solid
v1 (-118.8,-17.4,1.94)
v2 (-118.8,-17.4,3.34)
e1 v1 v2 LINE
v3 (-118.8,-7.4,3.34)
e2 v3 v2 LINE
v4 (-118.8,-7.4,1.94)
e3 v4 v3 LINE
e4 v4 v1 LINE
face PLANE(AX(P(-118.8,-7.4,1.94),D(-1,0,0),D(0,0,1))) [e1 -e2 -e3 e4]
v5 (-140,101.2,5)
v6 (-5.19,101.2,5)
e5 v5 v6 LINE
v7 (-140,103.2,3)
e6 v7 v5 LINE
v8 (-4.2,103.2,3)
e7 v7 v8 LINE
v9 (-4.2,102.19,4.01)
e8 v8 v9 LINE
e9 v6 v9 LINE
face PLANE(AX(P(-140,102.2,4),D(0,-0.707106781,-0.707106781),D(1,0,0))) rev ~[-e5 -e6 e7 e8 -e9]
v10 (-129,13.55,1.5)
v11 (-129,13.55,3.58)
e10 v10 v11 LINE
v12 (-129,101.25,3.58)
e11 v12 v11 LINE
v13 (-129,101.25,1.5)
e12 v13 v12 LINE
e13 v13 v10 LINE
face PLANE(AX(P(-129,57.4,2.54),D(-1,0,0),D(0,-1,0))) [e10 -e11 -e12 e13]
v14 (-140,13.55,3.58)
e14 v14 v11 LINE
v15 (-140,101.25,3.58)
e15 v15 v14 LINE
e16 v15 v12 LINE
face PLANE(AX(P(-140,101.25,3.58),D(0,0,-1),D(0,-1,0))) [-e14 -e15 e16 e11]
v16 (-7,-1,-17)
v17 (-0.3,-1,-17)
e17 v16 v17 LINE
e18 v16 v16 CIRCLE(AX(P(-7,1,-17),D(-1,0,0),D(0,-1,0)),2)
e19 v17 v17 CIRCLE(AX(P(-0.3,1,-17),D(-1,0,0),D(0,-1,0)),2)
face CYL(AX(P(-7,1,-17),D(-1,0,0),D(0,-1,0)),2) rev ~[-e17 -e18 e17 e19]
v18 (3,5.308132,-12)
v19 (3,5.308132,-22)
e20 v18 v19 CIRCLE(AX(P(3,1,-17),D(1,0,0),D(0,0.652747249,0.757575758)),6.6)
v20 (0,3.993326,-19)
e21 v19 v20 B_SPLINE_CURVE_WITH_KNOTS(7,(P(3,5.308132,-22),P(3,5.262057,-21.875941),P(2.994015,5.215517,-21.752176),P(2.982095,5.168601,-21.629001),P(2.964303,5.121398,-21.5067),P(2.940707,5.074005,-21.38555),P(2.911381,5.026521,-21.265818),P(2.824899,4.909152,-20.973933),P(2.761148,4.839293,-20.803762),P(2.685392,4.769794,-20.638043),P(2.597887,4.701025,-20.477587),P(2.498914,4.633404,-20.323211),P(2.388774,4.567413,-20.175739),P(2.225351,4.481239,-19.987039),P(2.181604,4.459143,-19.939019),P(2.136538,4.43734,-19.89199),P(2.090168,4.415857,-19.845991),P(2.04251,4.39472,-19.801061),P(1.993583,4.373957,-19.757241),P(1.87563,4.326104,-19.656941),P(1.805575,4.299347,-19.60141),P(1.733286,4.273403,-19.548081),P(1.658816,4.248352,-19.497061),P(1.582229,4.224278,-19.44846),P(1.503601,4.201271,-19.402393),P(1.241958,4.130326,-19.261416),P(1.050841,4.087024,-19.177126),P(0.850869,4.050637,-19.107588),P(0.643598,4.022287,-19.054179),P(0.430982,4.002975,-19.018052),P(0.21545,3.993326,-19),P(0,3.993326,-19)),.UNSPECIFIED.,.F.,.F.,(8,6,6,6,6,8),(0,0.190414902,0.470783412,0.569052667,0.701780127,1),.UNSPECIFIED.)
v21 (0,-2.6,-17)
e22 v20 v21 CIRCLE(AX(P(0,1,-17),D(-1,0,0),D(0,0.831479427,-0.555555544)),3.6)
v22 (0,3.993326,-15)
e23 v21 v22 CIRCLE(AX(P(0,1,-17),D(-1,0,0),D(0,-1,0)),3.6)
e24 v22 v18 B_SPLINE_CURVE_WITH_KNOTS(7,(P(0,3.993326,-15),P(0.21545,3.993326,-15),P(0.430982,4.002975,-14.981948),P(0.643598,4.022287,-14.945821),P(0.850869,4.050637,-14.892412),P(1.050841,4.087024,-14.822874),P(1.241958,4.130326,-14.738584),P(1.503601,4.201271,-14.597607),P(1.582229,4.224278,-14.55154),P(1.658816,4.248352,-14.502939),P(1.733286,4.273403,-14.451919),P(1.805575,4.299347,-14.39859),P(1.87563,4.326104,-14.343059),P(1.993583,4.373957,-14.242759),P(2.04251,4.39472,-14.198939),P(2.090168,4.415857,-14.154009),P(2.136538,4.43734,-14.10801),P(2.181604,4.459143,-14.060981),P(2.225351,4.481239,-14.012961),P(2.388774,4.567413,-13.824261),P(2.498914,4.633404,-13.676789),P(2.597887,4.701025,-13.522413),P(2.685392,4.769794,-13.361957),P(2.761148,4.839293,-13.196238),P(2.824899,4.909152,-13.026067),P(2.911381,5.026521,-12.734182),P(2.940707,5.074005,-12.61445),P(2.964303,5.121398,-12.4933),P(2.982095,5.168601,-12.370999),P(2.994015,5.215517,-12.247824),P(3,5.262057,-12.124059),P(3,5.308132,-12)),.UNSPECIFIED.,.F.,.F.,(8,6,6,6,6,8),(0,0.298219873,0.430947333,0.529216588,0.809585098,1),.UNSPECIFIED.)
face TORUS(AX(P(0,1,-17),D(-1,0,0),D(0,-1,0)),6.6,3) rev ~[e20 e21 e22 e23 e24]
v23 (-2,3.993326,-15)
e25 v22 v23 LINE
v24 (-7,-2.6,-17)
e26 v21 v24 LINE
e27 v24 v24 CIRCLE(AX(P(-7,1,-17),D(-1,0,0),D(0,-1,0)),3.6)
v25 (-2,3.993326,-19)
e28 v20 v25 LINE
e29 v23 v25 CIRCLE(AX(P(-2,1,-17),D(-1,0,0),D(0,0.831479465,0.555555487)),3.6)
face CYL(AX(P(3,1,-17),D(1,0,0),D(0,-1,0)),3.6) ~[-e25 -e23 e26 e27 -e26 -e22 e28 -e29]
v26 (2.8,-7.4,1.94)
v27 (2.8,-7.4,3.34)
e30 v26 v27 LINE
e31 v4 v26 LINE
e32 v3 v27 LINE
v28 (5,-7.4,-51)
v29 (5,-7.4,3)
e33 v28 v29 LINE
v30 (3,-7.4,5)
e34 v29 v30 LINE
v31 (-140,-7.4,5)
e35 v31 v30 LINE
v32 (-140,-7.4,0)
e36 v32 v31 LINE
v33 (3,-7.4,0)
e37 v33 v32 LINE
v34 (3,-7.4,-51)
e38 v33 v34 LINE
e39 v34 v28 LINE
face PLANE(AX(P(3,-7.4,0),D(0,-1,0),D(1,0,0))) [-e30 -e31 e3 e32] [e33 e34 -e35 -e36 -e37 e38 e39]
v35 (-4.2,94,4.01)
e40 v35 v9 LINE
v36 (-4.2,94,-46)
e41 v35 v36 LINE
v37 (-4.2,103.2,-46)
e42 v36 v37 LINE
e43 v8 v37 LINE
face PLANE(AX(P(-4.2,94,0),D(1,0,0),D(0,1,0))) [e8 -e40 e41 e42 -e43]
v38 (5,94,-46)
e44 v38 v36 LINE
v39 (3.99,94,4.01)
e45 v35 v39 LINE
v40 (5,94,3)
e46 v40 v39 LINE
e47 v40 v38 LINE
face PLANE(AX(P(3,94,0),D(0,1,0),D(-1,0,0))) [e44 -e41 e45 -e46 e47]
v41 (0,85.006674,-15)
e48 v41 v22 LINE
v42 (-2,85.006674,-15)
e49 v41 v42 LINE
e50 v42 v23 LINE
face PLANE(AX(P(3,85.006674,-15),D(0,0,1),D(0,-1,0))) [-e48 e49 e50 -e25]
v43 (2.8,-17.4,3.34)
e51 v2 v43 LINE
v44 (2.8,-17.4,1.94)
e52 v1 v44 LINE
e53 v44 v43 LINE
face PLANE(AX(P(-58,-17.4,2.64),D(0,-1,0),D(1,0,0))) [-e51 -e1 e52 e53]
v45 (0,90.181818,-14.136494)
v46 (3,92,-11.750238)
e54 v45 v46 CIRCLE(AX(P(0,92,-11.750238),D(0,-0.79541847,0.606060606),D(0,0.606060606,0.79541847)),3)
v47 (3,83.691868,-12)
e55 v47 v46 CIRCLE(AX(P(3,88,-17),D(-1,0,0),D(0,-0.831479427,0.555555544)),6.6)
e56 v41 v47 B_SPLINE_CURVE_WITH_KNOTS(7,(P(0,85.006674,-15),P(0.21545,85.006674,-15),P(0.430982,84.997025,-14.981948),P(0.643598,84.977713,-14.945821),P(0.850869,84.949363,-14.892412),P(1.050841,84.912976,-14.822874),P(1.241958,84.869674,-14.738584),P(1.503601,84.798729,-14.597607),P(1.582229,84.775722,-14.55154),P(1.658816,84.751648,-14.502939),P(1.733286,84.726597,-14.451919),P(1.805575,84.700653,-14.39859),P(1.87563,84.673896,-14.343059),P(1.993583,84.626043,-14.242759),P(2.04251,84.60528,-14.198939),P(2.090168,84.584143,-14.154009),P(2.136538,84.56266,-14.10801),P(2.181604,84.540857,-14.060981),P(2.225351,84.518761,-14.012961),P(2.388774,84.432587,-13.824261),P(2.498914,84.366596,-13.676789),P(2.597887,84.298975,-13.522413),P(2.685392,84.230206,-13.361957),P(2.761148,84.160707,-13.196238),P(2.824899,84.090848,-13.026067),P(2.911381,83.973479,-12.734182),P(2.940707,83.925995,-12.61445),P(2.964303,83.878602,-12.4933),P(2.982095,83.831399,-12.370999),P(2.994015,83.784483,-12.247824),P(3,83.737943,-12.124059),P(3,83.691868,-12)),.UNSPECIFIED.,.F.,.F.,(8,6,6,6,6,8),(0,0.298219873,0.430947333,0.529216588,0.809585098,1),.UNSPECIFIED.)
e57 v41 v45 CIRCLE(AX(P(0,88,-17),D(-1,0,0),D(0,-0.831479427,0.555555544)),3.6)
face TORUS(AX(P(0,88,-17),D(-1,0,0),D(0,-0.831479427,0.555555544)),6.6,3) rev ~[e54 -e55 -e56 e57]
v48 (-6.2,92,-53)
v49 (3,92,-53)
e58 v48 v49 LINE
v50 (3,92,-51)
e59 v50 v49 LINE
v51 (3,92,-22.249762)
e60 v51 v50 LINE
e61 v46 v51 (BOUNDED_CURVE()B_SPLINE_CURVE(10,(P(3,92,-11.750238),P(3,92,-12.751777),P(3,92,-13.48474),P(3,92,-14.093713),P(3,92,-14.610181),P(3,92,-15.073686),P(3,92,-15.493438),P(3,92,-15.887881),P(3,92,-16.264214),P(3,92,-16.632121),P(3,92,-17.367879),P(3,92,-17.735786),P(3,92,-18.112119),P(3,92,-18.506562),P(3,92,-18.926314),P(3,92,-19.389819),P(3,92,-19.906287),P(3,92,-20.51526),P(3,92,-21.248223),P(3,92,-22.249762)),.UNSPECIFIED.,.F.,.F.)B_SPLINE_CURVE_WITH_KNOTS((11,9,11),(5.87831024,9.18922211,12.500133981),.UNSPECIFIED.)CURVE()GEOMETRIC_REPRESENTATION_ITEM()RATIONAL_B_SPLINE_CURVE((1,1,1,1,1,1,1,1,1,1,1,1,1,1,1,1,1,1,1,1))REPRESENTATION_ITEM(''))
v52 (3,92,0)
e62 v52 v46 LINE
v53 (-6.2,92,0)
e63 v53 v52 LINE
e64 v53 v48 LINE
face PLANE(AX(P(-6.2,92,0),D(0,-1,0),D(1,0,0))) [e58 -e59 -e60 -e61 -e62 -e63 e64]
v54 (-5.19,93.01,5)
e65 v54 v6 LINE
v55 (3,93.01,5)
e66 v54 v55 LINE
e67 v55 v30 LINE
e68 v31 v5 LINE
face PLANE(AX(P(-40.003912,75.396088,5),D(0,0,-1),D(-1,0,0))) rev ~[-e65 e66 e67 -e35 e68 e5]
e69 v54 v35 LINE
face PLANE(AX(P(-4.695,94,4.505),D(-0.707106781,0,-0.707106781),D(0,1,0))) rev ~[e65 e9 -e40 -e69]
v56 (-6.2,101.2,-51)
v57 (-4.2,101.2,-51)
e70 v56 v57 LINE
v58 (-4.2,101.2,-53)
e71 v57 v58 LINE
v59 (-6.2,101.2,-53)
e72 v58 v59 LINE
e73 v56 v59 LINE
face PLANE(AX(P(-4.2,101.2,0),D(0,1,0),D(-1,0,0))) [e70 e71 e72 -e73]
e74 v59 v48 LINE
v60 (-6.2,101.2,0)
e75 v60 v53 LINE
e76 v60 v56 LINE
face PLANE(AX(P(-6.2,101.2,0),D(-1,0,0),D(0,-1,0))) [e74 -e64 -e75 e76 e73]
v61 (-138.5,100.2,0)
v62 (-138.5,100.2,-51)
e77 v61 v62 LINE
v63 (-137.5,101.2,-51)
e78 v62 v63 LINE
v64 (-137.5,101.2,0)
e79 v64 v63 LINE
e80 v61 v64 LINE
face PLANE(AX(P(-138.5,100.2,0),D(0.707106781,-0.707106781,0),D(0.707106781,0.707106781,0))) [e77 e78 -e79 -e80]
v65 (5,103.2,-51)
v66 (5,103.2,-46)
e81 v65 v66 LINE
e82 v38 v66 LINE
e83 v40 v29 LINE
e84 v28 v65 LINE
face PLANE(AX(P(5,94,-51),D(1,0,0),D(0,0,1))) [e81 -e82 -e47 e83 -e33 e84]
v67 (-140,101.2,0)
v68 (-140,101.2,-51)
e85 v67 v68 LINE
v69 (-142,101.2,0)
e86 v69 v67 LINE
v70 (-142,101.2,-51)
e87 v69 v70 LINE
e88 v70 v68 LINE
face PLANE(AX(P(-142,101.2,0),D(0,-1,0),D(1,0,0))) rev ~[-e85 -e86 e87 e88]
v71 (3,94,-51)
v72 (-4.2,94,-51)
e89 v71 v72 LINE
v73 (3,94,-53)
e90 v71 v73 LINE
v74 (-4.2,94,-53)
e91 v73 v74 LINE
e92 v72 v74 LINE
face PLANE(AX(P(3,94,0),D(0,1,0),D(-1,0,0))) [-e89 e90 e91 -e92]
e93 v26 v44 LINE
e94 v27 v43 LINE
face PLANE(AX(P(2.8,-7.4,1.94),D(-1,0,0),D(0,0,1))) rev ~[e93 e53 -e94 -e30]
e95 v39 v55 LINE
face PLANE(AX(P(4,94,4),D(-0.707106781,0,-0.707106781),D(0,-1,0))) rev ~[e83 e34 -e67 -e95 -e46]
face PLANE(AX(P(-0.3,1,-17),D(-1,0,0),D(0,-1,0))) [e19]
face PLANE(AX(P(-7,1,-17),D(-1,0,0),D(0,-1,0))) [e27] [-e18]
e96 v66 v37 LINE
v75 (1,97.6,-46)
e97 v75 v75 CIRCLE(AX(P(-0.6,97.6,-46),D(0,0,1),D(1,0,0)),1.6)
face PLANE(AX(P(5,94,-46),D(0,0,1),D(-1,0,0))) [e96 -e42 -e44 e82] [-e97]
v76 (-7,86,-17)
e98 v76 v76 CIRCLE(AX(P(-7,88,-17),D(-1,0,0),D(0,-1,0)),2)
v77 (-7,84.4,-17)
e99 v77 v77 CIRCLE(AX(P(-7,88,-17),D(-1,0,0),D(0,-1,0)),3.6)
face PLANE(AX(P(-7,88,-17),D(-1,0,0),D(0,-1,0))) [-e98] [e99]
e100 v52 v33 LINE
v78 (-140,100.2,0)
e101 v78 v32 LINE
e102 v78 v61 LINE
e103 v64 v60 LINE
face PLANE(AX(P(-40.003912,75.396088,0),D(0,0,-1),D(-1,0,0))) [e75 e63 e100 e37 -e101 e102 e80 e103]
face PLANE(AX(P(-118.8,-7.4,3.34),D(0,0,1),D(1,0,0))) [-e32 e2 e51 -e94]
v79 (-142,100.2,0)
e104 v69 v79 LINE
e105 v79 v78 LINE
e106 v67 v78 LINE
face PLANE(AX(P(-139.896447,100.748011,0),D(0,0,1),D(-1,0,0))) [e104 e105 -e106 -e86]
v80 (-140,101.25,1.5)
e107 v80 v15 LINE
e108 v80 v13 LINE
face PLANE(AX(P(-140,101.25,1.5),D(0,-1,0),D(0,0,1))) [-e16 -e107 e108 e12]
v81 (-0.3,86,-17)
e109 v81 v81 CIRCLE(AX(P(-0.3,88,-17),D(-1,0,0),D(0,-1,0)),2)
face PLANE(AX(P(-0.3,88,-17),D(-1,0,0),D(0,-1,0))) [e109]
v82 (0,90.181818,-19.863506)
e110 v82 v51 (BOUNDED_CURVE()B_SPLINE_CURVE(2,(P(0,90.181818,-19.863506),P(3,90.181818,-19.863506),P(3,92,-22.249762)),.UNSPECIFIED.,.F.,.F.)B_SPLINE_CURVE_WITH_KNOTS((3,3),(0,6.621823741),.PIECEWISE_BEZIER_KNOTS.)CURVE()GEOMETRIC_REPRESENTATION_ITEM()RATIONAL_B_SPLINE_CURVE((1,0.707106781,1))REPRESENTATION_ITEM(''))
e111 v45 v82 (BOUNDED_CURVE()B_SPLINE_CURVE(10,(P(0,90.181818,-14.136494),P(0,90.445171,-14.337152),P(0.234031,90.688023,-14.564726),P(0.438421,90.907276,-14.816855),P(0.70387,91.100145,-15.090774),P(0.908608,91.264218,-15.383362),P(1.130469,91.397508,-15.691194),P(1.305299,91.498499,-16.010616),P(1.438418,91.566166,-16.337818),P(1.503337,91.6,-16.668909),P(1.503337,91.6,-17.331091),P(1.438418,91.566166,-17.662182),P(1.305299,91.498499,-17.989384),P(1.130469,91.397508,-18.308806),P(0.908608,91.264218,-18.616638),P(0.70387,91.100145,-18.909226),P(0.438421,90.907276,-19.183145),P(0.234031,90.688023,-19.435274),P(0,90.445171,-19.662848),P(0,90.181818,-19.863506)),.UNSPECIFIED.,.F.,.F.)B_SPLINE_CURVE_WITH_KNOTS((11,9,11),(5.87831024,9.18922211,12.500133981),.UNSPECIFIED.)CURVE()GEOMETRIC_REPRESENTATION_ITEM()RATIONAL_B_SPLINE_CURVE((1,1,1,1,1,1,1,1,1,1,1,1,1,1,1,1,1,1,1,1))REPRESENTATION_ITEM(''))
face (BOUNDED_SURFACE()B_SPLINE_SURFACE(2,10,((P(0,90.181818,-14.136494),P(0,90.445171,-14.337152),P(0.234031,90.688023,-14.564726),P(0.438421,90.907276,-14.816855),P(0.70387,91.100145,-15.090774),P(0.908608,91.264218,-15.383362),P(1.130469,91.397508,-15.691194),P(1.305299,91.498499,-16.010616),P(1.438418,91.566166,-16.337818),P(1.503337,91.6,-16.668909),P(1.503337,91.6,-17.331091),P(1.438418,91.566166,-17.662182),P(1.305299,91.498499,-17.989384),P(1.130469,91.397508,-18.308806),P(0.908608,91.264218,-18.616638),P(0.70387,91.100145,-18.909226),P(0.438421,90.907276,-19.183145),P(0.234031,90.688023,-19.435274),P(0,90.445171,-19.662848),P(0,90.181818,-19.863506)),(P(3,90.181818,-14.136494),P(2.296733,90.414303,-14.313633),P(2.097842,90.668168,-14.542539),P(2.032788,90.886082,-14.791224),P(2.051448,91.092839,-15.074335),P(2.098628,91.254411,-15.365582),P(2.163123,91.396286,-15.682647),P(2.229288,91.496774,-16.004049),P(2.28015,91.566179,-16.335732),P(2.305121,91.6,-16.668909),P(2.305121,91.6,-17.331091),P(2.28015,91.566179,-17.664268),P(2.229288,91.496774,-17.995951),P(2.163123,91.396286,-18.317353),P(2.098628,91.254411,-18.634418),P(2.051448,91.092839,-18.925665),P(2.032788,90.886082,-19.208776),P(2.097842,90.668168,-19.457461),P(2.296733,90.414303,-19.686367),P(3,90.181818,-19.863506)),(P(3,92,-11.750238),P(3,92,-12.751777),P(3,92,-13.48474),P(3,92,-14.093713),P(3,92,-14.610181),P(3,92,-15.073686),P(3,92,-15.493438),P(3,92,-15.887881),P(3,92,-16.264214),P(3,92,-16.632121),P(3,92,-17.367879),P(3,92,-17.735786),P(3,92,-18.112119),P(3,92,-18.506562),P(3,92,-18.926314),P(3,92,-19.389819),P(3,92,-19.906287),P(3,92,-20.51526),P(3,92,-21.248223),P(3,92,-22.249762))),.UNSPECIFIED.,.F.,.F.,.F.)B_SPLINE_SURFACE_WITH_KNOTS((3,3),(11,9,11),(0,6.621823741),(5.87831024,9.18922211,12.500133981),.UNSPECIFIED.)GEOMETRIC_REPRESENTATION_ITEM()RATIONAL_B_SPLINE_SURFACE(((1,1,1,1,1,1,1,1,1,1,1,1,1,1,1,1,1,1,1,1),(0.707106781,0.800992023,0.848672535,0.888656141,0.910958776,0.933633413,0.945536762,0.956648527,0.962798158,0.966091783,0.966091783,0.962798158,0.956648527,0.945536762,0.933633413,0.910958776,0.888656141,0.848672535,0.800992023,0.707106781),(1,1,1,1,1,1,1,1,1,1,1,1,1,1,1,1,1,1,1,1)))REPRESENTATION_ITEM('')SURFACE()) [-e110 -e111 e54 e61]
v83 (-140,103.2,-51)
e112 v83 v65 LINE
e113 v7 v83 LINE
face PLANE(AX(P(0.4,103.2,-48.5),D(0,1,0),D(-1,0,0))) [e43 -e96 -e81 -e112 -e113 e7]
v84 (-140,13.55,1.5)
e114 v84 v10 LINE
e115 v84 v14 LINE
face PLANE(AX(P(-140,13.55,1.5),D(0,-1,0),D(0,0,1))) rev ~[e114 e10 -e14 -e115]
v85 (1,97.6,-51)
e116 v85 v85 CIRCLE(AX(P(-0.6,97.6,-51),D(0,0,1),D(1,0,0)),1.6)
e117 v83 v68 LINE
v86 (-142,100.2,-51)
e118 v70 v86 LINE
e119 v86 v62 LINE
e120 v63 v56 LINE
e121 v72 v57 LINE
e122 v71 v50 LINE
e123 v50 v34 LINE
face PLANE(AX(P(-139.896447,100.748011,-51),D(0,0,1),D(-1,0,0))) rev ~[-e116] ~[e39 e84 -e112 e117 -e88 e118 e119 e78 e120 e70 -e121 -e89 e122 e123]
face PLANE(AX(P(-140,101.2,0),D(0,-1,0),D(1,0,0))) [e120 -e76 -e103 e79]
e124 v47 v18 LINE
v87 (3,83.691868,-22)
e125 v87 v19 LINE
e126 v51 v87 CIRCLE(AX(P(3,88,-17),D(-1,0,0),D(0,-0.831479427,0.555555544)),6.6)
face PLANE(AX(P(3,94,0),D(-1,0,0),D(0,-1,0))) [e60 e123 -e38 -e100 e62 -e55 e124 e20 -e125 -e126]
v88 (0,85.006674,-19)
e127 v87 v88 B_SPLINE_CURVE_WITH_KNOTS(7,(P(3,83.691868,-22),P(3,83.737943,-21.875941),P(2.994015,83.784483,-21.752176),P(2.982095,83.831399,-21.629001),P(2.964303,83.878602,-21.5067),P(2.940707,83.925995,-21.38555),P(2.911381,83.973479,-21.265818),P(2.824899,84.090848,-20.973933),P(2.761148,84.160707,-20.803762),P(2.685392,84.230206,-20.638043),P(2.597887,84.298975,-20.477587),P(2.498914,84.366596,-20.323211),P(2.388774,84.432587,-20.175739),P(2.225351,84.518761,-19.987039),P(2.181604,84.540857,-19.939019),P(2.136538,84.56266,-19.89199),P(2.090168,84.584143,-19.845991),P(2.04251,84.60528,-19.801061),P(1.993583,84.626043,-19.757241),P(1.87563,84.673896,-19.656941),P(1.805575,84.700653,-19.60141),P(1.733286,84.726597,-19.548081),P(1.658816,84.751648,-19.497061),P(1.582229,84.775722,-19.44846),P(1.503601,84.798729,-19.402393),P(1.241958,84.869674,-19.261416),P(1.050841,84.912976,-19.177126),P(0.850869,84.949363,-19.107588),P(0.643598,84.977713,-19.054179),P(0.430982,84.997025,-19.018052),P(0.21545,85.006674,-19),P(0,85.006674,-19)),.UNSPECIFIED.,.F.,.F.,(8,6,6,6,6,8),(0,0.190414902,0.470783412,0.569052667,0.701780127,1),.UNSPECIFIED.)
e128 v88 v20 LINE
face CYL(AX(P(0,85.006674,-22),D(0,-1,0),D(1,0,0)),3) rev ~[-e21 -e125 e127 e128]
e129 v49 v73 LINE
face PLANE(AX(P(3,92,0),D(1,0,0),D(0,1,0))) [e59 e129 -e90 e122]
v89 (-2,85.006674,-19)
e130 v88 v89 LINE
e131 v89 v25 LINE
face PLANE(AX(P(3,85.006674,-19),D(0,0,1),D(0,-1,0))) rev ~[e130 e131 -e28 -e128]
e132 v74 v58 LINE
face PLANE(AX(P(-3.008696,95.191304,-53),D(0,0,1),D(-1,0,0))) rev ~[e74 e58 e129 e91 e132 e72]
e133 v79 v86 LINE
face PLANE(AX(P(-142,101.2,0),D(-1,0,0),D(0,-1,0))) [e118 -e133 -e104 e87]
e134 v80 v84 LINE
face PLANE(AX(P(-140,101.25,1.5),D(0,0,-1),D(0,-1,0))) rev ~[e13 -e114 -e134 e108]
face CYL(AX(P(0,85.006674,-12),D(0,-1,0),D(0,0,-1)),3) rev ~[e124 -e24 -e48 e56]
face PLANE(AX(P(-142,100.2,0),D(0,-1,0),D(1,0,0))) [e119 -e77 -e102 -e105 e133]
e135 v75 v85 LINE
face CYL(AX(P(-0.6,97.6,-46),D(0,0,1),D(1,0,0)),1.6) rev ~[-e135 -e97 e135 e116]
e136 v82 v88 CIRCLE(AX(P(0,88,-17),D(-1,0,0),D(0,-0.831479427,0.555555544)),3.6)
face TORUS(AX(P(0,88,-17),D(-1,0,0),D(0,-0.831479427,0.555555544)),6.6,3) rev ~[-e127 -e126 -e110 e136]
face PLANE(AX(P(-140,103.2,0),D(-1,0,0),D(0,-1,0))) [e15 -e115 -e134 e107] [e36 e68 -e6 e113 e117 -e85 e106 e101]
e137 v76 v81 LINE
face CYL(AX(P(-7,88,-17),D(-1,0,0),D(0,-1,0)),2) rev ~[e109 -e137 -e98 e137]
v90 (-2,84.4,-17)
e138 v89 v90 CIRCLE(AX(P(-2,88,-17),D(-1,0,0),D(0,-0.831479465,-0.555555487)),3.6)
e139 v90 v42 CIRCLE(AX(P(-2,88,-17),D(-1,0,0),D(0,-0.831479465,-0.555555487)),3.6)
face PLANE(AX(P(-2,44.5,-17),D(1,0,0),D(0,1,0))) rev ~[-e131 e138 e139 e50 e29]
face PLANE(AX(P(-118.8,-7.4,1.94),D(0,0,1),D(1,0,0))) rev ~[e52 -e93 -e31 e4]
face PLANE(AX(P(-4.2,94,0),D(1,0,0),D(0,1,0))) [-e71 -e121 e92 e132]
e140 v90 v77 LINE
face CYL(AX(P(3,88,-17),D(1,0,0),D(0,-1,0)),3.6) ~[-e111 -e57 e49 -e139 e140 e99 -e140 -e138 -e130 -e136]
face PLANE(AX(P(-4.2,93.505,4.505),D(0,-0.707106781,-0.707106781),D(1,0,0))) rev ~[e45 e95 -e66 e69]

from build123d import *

# Parameters (mm, degrees)
SKETCH_1_W      = 140
SKETCH_1_H      = 93
PAD_DEPTH       = 5
SKETCH_W        = 140
SKETCH_H        = 7.4
PAD001_DEPTH    = 5
PAD005_DEPTH    = 5
SKETCH002_W     = 9.2
SKETCH002_H     = 9.2
POCKET_DEPTH    = 5
SKETCH004_W     = 2
SKETCH004_H     = 101.4
PAD004_DEPTH    = 51
SKETCH010_W     = 87.7
SKETCH010_H     = 2.08
POCKET003_DEPTH = 11
SKETCH012_W     = 135.8
SKETCH012_H     = 2
PAD006_DEPTH    = 51
PAD007_DEPTH    = 53
SKETCH014_W     = 9.2
SKETCH014_H     = 5
PAD008_DEPTH    = 9.2
SKETCH015_R     = 1.6
POCKET004_DEPTH = 5
SKETCH016_W     = 121.6
SKETCH016_H     = 1.4
PAD009_DEPTH    = 10
CHAMFER_SIZE    = 2
CHAMFER001_SIZE = 0.99
SKETCH017_R     = 3.6
PAD010_DEPTH    = 10
PAD011_DEPTH    = 5
FILLET_R        = 3
SKETCH019_R     = 2
POCKET005_DEPTH = 6.7
PAD012_DEPTH    = 51


with BuildPart() as part:
    # Sketch_1 → Pad (new body)
    with BuildSketch(Plane.XY):
        with Locations((-70, 46.5)):
            Rectangle(SKETCH_1_W, SKETCH_1_H)
    extrude(amount=PAD_DEPTH)

    # Sketch → Pad001 (join)
    with BuildSketch(Plane.XY):
        with Locations((-70, -3.7)):
            Rectangle(SKETCH_W, SKETCH_H)
    extrude(amount=PAD001_DEPTH)

    # Sketch011 (on Face5 of Pad001) → Pad005 (join)
    with BuildSketch(Plane.XY.offset(5)):
        Polygon((-140, 93), (-140, 103.2), (5, 103.2), (5, -7.4), (0, -7.4), (0, 93), align=None)
    extrude(amount=-PAD005_DEPTH)

    # Sketch002 → Pocket (cut)
    with BuildSketch(Plane.XY.offset(5)):
        with Locations((0.4, 98.6)):
            Rectangle(SKETCH002_W, SKETCH002_H)
    extrude(amount=-POCKET_DEPTH, mode=Mode.SUBTRACT)

    # Sketch004 → Pad004 (join)
    with BuildSketch(Plane(origin=(0, 0, 0), x_dir=(1, 0, 0), z_dir=(0, 0, -1))):
        with Locations((4, -43.3)):
            Rectangle(SKETCH004_W, SKETCH004_H)
    extrude(amount=PAD004_DEPTH)

    # Sketch010 → Pocket003 (cut)
    with BuildSketch(Plane(origin=(-140, 0, 0), x_dir=(0, -1, 0), z_dir=(-1, 0, 0))):
        with Locations((-57.4, 2.54)):
            Rectangle(SKETCH010_W, SKETCH010_H)
    extrude(amount=-POCKET003_DEPTH, mode=Mode.SUBTRACT)

    # Sketch012 (on Face10 of Pocket003) → Pad006 (join)
    with BuildSketch(Plane(origin=(0, 0, 0), x_dir=(1, 0, 0), z_dir=(0, 0, -1))):
        with Locations((-72.1, -102.2)):
            Rectangle(SKETCH012_W, SKETCH012_H)
    extrude(amount=PAD006_DEPTH)

    # Sketch013 (on Face10 of Pad006) → Pad007 (join)
    with BuildSketch(Plane(origin=(0, 0, 0), x_dir=(1, 0, 0), z_dir=(0, 0, -1))):
        Polygon((-4.2, -101.2), (-6.2, -101.2), (-6.2, -92), (3, -92), (3, -94), (-4.2, -94), align=None)
    extrude(amount=PAD007_DEPTH)

    # Sketch014 (on Face33 of Pad007) → Pad008 (join)
    with BuildSketch(Plane(origin=(0, 94, 0), x_dir=(-1, 0, 0), z_dir=(0, 1, 0))):
        with Locations((-0.4, -48.5)):
            Rectangle(SKETCH014_W, SKETCH014_H)
    extrude(amount=PAD008_DEPTH)

    # Sketch015 (on Face43 of Pad008) → Pocket004 (cut)
    with BuildSketch(Plane.XY.offset(-46)):
        with Locations((-0.6, 97.6)):
            Circle(SKETCH015_R)
    extrude(amount=-POCKET004_DEPTH, mode=Mode.SUBTRACT)

    # Sketch016 (on Face20 of Pocket004) → Pad009 (join)
    with BuildSketch(Plane.XZ.offset(7.4)):
        with Locations((-58, 2.64)):
            Rectangle(SKETCH016_W, SKETCH016_H)
    extrude(amount=PAD009_DEPTH)

    # Chamfer
    chamfer_edges = [part.edges().sort_by_distance(p)[0] for p in [
        (5, 43.3, 5),
        (-72.1, 103.2, 5),
    ]]
    chamfer(chamfer_edges, length=CHAMFER_SIZE)

    # Chamfer001
    chamfer001_edges = [part.edges().sort_by_distance(p)[0] for p in [
        (-4.2, 97.6, 5),
        (-0.6, 94, 5),
    ]]
    chamfer(chamfer001_edges, length=CHAMFER001_SIZE)

    # Sketch017 (on Face42 of Chamfer001) → Pad010 (join)
    with BuildSketch(Plane(origin=(3, 0, 0), x_dir=(0, -1, 0), z_dir=(-1, 0, 0))):
        with Locations((-88, -17)):
            Circle(SKETCH017_R)
        with Locations((-1, -17)):
            Circle(SKETCH017_R)
    extrude(amount=PAD010_DEPTH)

    # Sketch018 (on Face42 of Pad010) → Pad011 (join)
    with BuildSketch(Plane(origin=(3, 0, 0), x_dir=(0, -1, 0), z_dir=(-1, 0, 0))):
        with BuildLine():
            Line((-85.006674, -15), (-3.993326, -15))
            ThreePointArc((-3.993326, -15), (-4.6, -17), (-3.993326, -19))
            Line((-85.006674, -19), (-3.993326, -19))
            ThreePointArc((-85.006674, -19), (-84.4, -17), (-85.006674, -15))
        make_face()
    extrude(amount=PAD011_DEPTH)

    # Fillet
    fillet_edges = [part.edges().sort_by_distance(p)[0] for p in [
        (3, 44.5, -19),
        (3, 91.6, -17),
        (3, -0.044994, -20.444994),
        (3, 44.5, -15),
        (3, -0.044994, -13.555006),
    ]]
    fillet(fillet_edges, radius=FILLET_R)

    # Sketch019 (on Face32 of Fillet) → Pocket005 (cut)
    with BuildSketch(Plane(origin=(-7, 0, 0), x_dir=(0, -1, 0), z_dir=(-1, 0, 0))):
        with Locations((-88, -17)):
            Circle(SKETCH019_R)
        with Locations((-1, -17)):
            Circle(SKETCH019_R)
    extrude(amount=-POCKET005_DEPTH, mode=Mode.SUBTRACT)

    # Sketch020 (on Face26 of Pocket005) → Pad012 (join)
    with BuildSketch(Plane(origin=(0, 0, 0), x_dir=(1, 0, 0), z_dir=(0, 0, -1))):
        Polygon((-140, -101.2), (-142, -101.2), (-142, -100.2), (-138.5, -100.2), (-137.5, -101.2), (-138.5, -101.2), align=None)
    extrude(amount=PAD012_DEPTH)


solid = part.part
